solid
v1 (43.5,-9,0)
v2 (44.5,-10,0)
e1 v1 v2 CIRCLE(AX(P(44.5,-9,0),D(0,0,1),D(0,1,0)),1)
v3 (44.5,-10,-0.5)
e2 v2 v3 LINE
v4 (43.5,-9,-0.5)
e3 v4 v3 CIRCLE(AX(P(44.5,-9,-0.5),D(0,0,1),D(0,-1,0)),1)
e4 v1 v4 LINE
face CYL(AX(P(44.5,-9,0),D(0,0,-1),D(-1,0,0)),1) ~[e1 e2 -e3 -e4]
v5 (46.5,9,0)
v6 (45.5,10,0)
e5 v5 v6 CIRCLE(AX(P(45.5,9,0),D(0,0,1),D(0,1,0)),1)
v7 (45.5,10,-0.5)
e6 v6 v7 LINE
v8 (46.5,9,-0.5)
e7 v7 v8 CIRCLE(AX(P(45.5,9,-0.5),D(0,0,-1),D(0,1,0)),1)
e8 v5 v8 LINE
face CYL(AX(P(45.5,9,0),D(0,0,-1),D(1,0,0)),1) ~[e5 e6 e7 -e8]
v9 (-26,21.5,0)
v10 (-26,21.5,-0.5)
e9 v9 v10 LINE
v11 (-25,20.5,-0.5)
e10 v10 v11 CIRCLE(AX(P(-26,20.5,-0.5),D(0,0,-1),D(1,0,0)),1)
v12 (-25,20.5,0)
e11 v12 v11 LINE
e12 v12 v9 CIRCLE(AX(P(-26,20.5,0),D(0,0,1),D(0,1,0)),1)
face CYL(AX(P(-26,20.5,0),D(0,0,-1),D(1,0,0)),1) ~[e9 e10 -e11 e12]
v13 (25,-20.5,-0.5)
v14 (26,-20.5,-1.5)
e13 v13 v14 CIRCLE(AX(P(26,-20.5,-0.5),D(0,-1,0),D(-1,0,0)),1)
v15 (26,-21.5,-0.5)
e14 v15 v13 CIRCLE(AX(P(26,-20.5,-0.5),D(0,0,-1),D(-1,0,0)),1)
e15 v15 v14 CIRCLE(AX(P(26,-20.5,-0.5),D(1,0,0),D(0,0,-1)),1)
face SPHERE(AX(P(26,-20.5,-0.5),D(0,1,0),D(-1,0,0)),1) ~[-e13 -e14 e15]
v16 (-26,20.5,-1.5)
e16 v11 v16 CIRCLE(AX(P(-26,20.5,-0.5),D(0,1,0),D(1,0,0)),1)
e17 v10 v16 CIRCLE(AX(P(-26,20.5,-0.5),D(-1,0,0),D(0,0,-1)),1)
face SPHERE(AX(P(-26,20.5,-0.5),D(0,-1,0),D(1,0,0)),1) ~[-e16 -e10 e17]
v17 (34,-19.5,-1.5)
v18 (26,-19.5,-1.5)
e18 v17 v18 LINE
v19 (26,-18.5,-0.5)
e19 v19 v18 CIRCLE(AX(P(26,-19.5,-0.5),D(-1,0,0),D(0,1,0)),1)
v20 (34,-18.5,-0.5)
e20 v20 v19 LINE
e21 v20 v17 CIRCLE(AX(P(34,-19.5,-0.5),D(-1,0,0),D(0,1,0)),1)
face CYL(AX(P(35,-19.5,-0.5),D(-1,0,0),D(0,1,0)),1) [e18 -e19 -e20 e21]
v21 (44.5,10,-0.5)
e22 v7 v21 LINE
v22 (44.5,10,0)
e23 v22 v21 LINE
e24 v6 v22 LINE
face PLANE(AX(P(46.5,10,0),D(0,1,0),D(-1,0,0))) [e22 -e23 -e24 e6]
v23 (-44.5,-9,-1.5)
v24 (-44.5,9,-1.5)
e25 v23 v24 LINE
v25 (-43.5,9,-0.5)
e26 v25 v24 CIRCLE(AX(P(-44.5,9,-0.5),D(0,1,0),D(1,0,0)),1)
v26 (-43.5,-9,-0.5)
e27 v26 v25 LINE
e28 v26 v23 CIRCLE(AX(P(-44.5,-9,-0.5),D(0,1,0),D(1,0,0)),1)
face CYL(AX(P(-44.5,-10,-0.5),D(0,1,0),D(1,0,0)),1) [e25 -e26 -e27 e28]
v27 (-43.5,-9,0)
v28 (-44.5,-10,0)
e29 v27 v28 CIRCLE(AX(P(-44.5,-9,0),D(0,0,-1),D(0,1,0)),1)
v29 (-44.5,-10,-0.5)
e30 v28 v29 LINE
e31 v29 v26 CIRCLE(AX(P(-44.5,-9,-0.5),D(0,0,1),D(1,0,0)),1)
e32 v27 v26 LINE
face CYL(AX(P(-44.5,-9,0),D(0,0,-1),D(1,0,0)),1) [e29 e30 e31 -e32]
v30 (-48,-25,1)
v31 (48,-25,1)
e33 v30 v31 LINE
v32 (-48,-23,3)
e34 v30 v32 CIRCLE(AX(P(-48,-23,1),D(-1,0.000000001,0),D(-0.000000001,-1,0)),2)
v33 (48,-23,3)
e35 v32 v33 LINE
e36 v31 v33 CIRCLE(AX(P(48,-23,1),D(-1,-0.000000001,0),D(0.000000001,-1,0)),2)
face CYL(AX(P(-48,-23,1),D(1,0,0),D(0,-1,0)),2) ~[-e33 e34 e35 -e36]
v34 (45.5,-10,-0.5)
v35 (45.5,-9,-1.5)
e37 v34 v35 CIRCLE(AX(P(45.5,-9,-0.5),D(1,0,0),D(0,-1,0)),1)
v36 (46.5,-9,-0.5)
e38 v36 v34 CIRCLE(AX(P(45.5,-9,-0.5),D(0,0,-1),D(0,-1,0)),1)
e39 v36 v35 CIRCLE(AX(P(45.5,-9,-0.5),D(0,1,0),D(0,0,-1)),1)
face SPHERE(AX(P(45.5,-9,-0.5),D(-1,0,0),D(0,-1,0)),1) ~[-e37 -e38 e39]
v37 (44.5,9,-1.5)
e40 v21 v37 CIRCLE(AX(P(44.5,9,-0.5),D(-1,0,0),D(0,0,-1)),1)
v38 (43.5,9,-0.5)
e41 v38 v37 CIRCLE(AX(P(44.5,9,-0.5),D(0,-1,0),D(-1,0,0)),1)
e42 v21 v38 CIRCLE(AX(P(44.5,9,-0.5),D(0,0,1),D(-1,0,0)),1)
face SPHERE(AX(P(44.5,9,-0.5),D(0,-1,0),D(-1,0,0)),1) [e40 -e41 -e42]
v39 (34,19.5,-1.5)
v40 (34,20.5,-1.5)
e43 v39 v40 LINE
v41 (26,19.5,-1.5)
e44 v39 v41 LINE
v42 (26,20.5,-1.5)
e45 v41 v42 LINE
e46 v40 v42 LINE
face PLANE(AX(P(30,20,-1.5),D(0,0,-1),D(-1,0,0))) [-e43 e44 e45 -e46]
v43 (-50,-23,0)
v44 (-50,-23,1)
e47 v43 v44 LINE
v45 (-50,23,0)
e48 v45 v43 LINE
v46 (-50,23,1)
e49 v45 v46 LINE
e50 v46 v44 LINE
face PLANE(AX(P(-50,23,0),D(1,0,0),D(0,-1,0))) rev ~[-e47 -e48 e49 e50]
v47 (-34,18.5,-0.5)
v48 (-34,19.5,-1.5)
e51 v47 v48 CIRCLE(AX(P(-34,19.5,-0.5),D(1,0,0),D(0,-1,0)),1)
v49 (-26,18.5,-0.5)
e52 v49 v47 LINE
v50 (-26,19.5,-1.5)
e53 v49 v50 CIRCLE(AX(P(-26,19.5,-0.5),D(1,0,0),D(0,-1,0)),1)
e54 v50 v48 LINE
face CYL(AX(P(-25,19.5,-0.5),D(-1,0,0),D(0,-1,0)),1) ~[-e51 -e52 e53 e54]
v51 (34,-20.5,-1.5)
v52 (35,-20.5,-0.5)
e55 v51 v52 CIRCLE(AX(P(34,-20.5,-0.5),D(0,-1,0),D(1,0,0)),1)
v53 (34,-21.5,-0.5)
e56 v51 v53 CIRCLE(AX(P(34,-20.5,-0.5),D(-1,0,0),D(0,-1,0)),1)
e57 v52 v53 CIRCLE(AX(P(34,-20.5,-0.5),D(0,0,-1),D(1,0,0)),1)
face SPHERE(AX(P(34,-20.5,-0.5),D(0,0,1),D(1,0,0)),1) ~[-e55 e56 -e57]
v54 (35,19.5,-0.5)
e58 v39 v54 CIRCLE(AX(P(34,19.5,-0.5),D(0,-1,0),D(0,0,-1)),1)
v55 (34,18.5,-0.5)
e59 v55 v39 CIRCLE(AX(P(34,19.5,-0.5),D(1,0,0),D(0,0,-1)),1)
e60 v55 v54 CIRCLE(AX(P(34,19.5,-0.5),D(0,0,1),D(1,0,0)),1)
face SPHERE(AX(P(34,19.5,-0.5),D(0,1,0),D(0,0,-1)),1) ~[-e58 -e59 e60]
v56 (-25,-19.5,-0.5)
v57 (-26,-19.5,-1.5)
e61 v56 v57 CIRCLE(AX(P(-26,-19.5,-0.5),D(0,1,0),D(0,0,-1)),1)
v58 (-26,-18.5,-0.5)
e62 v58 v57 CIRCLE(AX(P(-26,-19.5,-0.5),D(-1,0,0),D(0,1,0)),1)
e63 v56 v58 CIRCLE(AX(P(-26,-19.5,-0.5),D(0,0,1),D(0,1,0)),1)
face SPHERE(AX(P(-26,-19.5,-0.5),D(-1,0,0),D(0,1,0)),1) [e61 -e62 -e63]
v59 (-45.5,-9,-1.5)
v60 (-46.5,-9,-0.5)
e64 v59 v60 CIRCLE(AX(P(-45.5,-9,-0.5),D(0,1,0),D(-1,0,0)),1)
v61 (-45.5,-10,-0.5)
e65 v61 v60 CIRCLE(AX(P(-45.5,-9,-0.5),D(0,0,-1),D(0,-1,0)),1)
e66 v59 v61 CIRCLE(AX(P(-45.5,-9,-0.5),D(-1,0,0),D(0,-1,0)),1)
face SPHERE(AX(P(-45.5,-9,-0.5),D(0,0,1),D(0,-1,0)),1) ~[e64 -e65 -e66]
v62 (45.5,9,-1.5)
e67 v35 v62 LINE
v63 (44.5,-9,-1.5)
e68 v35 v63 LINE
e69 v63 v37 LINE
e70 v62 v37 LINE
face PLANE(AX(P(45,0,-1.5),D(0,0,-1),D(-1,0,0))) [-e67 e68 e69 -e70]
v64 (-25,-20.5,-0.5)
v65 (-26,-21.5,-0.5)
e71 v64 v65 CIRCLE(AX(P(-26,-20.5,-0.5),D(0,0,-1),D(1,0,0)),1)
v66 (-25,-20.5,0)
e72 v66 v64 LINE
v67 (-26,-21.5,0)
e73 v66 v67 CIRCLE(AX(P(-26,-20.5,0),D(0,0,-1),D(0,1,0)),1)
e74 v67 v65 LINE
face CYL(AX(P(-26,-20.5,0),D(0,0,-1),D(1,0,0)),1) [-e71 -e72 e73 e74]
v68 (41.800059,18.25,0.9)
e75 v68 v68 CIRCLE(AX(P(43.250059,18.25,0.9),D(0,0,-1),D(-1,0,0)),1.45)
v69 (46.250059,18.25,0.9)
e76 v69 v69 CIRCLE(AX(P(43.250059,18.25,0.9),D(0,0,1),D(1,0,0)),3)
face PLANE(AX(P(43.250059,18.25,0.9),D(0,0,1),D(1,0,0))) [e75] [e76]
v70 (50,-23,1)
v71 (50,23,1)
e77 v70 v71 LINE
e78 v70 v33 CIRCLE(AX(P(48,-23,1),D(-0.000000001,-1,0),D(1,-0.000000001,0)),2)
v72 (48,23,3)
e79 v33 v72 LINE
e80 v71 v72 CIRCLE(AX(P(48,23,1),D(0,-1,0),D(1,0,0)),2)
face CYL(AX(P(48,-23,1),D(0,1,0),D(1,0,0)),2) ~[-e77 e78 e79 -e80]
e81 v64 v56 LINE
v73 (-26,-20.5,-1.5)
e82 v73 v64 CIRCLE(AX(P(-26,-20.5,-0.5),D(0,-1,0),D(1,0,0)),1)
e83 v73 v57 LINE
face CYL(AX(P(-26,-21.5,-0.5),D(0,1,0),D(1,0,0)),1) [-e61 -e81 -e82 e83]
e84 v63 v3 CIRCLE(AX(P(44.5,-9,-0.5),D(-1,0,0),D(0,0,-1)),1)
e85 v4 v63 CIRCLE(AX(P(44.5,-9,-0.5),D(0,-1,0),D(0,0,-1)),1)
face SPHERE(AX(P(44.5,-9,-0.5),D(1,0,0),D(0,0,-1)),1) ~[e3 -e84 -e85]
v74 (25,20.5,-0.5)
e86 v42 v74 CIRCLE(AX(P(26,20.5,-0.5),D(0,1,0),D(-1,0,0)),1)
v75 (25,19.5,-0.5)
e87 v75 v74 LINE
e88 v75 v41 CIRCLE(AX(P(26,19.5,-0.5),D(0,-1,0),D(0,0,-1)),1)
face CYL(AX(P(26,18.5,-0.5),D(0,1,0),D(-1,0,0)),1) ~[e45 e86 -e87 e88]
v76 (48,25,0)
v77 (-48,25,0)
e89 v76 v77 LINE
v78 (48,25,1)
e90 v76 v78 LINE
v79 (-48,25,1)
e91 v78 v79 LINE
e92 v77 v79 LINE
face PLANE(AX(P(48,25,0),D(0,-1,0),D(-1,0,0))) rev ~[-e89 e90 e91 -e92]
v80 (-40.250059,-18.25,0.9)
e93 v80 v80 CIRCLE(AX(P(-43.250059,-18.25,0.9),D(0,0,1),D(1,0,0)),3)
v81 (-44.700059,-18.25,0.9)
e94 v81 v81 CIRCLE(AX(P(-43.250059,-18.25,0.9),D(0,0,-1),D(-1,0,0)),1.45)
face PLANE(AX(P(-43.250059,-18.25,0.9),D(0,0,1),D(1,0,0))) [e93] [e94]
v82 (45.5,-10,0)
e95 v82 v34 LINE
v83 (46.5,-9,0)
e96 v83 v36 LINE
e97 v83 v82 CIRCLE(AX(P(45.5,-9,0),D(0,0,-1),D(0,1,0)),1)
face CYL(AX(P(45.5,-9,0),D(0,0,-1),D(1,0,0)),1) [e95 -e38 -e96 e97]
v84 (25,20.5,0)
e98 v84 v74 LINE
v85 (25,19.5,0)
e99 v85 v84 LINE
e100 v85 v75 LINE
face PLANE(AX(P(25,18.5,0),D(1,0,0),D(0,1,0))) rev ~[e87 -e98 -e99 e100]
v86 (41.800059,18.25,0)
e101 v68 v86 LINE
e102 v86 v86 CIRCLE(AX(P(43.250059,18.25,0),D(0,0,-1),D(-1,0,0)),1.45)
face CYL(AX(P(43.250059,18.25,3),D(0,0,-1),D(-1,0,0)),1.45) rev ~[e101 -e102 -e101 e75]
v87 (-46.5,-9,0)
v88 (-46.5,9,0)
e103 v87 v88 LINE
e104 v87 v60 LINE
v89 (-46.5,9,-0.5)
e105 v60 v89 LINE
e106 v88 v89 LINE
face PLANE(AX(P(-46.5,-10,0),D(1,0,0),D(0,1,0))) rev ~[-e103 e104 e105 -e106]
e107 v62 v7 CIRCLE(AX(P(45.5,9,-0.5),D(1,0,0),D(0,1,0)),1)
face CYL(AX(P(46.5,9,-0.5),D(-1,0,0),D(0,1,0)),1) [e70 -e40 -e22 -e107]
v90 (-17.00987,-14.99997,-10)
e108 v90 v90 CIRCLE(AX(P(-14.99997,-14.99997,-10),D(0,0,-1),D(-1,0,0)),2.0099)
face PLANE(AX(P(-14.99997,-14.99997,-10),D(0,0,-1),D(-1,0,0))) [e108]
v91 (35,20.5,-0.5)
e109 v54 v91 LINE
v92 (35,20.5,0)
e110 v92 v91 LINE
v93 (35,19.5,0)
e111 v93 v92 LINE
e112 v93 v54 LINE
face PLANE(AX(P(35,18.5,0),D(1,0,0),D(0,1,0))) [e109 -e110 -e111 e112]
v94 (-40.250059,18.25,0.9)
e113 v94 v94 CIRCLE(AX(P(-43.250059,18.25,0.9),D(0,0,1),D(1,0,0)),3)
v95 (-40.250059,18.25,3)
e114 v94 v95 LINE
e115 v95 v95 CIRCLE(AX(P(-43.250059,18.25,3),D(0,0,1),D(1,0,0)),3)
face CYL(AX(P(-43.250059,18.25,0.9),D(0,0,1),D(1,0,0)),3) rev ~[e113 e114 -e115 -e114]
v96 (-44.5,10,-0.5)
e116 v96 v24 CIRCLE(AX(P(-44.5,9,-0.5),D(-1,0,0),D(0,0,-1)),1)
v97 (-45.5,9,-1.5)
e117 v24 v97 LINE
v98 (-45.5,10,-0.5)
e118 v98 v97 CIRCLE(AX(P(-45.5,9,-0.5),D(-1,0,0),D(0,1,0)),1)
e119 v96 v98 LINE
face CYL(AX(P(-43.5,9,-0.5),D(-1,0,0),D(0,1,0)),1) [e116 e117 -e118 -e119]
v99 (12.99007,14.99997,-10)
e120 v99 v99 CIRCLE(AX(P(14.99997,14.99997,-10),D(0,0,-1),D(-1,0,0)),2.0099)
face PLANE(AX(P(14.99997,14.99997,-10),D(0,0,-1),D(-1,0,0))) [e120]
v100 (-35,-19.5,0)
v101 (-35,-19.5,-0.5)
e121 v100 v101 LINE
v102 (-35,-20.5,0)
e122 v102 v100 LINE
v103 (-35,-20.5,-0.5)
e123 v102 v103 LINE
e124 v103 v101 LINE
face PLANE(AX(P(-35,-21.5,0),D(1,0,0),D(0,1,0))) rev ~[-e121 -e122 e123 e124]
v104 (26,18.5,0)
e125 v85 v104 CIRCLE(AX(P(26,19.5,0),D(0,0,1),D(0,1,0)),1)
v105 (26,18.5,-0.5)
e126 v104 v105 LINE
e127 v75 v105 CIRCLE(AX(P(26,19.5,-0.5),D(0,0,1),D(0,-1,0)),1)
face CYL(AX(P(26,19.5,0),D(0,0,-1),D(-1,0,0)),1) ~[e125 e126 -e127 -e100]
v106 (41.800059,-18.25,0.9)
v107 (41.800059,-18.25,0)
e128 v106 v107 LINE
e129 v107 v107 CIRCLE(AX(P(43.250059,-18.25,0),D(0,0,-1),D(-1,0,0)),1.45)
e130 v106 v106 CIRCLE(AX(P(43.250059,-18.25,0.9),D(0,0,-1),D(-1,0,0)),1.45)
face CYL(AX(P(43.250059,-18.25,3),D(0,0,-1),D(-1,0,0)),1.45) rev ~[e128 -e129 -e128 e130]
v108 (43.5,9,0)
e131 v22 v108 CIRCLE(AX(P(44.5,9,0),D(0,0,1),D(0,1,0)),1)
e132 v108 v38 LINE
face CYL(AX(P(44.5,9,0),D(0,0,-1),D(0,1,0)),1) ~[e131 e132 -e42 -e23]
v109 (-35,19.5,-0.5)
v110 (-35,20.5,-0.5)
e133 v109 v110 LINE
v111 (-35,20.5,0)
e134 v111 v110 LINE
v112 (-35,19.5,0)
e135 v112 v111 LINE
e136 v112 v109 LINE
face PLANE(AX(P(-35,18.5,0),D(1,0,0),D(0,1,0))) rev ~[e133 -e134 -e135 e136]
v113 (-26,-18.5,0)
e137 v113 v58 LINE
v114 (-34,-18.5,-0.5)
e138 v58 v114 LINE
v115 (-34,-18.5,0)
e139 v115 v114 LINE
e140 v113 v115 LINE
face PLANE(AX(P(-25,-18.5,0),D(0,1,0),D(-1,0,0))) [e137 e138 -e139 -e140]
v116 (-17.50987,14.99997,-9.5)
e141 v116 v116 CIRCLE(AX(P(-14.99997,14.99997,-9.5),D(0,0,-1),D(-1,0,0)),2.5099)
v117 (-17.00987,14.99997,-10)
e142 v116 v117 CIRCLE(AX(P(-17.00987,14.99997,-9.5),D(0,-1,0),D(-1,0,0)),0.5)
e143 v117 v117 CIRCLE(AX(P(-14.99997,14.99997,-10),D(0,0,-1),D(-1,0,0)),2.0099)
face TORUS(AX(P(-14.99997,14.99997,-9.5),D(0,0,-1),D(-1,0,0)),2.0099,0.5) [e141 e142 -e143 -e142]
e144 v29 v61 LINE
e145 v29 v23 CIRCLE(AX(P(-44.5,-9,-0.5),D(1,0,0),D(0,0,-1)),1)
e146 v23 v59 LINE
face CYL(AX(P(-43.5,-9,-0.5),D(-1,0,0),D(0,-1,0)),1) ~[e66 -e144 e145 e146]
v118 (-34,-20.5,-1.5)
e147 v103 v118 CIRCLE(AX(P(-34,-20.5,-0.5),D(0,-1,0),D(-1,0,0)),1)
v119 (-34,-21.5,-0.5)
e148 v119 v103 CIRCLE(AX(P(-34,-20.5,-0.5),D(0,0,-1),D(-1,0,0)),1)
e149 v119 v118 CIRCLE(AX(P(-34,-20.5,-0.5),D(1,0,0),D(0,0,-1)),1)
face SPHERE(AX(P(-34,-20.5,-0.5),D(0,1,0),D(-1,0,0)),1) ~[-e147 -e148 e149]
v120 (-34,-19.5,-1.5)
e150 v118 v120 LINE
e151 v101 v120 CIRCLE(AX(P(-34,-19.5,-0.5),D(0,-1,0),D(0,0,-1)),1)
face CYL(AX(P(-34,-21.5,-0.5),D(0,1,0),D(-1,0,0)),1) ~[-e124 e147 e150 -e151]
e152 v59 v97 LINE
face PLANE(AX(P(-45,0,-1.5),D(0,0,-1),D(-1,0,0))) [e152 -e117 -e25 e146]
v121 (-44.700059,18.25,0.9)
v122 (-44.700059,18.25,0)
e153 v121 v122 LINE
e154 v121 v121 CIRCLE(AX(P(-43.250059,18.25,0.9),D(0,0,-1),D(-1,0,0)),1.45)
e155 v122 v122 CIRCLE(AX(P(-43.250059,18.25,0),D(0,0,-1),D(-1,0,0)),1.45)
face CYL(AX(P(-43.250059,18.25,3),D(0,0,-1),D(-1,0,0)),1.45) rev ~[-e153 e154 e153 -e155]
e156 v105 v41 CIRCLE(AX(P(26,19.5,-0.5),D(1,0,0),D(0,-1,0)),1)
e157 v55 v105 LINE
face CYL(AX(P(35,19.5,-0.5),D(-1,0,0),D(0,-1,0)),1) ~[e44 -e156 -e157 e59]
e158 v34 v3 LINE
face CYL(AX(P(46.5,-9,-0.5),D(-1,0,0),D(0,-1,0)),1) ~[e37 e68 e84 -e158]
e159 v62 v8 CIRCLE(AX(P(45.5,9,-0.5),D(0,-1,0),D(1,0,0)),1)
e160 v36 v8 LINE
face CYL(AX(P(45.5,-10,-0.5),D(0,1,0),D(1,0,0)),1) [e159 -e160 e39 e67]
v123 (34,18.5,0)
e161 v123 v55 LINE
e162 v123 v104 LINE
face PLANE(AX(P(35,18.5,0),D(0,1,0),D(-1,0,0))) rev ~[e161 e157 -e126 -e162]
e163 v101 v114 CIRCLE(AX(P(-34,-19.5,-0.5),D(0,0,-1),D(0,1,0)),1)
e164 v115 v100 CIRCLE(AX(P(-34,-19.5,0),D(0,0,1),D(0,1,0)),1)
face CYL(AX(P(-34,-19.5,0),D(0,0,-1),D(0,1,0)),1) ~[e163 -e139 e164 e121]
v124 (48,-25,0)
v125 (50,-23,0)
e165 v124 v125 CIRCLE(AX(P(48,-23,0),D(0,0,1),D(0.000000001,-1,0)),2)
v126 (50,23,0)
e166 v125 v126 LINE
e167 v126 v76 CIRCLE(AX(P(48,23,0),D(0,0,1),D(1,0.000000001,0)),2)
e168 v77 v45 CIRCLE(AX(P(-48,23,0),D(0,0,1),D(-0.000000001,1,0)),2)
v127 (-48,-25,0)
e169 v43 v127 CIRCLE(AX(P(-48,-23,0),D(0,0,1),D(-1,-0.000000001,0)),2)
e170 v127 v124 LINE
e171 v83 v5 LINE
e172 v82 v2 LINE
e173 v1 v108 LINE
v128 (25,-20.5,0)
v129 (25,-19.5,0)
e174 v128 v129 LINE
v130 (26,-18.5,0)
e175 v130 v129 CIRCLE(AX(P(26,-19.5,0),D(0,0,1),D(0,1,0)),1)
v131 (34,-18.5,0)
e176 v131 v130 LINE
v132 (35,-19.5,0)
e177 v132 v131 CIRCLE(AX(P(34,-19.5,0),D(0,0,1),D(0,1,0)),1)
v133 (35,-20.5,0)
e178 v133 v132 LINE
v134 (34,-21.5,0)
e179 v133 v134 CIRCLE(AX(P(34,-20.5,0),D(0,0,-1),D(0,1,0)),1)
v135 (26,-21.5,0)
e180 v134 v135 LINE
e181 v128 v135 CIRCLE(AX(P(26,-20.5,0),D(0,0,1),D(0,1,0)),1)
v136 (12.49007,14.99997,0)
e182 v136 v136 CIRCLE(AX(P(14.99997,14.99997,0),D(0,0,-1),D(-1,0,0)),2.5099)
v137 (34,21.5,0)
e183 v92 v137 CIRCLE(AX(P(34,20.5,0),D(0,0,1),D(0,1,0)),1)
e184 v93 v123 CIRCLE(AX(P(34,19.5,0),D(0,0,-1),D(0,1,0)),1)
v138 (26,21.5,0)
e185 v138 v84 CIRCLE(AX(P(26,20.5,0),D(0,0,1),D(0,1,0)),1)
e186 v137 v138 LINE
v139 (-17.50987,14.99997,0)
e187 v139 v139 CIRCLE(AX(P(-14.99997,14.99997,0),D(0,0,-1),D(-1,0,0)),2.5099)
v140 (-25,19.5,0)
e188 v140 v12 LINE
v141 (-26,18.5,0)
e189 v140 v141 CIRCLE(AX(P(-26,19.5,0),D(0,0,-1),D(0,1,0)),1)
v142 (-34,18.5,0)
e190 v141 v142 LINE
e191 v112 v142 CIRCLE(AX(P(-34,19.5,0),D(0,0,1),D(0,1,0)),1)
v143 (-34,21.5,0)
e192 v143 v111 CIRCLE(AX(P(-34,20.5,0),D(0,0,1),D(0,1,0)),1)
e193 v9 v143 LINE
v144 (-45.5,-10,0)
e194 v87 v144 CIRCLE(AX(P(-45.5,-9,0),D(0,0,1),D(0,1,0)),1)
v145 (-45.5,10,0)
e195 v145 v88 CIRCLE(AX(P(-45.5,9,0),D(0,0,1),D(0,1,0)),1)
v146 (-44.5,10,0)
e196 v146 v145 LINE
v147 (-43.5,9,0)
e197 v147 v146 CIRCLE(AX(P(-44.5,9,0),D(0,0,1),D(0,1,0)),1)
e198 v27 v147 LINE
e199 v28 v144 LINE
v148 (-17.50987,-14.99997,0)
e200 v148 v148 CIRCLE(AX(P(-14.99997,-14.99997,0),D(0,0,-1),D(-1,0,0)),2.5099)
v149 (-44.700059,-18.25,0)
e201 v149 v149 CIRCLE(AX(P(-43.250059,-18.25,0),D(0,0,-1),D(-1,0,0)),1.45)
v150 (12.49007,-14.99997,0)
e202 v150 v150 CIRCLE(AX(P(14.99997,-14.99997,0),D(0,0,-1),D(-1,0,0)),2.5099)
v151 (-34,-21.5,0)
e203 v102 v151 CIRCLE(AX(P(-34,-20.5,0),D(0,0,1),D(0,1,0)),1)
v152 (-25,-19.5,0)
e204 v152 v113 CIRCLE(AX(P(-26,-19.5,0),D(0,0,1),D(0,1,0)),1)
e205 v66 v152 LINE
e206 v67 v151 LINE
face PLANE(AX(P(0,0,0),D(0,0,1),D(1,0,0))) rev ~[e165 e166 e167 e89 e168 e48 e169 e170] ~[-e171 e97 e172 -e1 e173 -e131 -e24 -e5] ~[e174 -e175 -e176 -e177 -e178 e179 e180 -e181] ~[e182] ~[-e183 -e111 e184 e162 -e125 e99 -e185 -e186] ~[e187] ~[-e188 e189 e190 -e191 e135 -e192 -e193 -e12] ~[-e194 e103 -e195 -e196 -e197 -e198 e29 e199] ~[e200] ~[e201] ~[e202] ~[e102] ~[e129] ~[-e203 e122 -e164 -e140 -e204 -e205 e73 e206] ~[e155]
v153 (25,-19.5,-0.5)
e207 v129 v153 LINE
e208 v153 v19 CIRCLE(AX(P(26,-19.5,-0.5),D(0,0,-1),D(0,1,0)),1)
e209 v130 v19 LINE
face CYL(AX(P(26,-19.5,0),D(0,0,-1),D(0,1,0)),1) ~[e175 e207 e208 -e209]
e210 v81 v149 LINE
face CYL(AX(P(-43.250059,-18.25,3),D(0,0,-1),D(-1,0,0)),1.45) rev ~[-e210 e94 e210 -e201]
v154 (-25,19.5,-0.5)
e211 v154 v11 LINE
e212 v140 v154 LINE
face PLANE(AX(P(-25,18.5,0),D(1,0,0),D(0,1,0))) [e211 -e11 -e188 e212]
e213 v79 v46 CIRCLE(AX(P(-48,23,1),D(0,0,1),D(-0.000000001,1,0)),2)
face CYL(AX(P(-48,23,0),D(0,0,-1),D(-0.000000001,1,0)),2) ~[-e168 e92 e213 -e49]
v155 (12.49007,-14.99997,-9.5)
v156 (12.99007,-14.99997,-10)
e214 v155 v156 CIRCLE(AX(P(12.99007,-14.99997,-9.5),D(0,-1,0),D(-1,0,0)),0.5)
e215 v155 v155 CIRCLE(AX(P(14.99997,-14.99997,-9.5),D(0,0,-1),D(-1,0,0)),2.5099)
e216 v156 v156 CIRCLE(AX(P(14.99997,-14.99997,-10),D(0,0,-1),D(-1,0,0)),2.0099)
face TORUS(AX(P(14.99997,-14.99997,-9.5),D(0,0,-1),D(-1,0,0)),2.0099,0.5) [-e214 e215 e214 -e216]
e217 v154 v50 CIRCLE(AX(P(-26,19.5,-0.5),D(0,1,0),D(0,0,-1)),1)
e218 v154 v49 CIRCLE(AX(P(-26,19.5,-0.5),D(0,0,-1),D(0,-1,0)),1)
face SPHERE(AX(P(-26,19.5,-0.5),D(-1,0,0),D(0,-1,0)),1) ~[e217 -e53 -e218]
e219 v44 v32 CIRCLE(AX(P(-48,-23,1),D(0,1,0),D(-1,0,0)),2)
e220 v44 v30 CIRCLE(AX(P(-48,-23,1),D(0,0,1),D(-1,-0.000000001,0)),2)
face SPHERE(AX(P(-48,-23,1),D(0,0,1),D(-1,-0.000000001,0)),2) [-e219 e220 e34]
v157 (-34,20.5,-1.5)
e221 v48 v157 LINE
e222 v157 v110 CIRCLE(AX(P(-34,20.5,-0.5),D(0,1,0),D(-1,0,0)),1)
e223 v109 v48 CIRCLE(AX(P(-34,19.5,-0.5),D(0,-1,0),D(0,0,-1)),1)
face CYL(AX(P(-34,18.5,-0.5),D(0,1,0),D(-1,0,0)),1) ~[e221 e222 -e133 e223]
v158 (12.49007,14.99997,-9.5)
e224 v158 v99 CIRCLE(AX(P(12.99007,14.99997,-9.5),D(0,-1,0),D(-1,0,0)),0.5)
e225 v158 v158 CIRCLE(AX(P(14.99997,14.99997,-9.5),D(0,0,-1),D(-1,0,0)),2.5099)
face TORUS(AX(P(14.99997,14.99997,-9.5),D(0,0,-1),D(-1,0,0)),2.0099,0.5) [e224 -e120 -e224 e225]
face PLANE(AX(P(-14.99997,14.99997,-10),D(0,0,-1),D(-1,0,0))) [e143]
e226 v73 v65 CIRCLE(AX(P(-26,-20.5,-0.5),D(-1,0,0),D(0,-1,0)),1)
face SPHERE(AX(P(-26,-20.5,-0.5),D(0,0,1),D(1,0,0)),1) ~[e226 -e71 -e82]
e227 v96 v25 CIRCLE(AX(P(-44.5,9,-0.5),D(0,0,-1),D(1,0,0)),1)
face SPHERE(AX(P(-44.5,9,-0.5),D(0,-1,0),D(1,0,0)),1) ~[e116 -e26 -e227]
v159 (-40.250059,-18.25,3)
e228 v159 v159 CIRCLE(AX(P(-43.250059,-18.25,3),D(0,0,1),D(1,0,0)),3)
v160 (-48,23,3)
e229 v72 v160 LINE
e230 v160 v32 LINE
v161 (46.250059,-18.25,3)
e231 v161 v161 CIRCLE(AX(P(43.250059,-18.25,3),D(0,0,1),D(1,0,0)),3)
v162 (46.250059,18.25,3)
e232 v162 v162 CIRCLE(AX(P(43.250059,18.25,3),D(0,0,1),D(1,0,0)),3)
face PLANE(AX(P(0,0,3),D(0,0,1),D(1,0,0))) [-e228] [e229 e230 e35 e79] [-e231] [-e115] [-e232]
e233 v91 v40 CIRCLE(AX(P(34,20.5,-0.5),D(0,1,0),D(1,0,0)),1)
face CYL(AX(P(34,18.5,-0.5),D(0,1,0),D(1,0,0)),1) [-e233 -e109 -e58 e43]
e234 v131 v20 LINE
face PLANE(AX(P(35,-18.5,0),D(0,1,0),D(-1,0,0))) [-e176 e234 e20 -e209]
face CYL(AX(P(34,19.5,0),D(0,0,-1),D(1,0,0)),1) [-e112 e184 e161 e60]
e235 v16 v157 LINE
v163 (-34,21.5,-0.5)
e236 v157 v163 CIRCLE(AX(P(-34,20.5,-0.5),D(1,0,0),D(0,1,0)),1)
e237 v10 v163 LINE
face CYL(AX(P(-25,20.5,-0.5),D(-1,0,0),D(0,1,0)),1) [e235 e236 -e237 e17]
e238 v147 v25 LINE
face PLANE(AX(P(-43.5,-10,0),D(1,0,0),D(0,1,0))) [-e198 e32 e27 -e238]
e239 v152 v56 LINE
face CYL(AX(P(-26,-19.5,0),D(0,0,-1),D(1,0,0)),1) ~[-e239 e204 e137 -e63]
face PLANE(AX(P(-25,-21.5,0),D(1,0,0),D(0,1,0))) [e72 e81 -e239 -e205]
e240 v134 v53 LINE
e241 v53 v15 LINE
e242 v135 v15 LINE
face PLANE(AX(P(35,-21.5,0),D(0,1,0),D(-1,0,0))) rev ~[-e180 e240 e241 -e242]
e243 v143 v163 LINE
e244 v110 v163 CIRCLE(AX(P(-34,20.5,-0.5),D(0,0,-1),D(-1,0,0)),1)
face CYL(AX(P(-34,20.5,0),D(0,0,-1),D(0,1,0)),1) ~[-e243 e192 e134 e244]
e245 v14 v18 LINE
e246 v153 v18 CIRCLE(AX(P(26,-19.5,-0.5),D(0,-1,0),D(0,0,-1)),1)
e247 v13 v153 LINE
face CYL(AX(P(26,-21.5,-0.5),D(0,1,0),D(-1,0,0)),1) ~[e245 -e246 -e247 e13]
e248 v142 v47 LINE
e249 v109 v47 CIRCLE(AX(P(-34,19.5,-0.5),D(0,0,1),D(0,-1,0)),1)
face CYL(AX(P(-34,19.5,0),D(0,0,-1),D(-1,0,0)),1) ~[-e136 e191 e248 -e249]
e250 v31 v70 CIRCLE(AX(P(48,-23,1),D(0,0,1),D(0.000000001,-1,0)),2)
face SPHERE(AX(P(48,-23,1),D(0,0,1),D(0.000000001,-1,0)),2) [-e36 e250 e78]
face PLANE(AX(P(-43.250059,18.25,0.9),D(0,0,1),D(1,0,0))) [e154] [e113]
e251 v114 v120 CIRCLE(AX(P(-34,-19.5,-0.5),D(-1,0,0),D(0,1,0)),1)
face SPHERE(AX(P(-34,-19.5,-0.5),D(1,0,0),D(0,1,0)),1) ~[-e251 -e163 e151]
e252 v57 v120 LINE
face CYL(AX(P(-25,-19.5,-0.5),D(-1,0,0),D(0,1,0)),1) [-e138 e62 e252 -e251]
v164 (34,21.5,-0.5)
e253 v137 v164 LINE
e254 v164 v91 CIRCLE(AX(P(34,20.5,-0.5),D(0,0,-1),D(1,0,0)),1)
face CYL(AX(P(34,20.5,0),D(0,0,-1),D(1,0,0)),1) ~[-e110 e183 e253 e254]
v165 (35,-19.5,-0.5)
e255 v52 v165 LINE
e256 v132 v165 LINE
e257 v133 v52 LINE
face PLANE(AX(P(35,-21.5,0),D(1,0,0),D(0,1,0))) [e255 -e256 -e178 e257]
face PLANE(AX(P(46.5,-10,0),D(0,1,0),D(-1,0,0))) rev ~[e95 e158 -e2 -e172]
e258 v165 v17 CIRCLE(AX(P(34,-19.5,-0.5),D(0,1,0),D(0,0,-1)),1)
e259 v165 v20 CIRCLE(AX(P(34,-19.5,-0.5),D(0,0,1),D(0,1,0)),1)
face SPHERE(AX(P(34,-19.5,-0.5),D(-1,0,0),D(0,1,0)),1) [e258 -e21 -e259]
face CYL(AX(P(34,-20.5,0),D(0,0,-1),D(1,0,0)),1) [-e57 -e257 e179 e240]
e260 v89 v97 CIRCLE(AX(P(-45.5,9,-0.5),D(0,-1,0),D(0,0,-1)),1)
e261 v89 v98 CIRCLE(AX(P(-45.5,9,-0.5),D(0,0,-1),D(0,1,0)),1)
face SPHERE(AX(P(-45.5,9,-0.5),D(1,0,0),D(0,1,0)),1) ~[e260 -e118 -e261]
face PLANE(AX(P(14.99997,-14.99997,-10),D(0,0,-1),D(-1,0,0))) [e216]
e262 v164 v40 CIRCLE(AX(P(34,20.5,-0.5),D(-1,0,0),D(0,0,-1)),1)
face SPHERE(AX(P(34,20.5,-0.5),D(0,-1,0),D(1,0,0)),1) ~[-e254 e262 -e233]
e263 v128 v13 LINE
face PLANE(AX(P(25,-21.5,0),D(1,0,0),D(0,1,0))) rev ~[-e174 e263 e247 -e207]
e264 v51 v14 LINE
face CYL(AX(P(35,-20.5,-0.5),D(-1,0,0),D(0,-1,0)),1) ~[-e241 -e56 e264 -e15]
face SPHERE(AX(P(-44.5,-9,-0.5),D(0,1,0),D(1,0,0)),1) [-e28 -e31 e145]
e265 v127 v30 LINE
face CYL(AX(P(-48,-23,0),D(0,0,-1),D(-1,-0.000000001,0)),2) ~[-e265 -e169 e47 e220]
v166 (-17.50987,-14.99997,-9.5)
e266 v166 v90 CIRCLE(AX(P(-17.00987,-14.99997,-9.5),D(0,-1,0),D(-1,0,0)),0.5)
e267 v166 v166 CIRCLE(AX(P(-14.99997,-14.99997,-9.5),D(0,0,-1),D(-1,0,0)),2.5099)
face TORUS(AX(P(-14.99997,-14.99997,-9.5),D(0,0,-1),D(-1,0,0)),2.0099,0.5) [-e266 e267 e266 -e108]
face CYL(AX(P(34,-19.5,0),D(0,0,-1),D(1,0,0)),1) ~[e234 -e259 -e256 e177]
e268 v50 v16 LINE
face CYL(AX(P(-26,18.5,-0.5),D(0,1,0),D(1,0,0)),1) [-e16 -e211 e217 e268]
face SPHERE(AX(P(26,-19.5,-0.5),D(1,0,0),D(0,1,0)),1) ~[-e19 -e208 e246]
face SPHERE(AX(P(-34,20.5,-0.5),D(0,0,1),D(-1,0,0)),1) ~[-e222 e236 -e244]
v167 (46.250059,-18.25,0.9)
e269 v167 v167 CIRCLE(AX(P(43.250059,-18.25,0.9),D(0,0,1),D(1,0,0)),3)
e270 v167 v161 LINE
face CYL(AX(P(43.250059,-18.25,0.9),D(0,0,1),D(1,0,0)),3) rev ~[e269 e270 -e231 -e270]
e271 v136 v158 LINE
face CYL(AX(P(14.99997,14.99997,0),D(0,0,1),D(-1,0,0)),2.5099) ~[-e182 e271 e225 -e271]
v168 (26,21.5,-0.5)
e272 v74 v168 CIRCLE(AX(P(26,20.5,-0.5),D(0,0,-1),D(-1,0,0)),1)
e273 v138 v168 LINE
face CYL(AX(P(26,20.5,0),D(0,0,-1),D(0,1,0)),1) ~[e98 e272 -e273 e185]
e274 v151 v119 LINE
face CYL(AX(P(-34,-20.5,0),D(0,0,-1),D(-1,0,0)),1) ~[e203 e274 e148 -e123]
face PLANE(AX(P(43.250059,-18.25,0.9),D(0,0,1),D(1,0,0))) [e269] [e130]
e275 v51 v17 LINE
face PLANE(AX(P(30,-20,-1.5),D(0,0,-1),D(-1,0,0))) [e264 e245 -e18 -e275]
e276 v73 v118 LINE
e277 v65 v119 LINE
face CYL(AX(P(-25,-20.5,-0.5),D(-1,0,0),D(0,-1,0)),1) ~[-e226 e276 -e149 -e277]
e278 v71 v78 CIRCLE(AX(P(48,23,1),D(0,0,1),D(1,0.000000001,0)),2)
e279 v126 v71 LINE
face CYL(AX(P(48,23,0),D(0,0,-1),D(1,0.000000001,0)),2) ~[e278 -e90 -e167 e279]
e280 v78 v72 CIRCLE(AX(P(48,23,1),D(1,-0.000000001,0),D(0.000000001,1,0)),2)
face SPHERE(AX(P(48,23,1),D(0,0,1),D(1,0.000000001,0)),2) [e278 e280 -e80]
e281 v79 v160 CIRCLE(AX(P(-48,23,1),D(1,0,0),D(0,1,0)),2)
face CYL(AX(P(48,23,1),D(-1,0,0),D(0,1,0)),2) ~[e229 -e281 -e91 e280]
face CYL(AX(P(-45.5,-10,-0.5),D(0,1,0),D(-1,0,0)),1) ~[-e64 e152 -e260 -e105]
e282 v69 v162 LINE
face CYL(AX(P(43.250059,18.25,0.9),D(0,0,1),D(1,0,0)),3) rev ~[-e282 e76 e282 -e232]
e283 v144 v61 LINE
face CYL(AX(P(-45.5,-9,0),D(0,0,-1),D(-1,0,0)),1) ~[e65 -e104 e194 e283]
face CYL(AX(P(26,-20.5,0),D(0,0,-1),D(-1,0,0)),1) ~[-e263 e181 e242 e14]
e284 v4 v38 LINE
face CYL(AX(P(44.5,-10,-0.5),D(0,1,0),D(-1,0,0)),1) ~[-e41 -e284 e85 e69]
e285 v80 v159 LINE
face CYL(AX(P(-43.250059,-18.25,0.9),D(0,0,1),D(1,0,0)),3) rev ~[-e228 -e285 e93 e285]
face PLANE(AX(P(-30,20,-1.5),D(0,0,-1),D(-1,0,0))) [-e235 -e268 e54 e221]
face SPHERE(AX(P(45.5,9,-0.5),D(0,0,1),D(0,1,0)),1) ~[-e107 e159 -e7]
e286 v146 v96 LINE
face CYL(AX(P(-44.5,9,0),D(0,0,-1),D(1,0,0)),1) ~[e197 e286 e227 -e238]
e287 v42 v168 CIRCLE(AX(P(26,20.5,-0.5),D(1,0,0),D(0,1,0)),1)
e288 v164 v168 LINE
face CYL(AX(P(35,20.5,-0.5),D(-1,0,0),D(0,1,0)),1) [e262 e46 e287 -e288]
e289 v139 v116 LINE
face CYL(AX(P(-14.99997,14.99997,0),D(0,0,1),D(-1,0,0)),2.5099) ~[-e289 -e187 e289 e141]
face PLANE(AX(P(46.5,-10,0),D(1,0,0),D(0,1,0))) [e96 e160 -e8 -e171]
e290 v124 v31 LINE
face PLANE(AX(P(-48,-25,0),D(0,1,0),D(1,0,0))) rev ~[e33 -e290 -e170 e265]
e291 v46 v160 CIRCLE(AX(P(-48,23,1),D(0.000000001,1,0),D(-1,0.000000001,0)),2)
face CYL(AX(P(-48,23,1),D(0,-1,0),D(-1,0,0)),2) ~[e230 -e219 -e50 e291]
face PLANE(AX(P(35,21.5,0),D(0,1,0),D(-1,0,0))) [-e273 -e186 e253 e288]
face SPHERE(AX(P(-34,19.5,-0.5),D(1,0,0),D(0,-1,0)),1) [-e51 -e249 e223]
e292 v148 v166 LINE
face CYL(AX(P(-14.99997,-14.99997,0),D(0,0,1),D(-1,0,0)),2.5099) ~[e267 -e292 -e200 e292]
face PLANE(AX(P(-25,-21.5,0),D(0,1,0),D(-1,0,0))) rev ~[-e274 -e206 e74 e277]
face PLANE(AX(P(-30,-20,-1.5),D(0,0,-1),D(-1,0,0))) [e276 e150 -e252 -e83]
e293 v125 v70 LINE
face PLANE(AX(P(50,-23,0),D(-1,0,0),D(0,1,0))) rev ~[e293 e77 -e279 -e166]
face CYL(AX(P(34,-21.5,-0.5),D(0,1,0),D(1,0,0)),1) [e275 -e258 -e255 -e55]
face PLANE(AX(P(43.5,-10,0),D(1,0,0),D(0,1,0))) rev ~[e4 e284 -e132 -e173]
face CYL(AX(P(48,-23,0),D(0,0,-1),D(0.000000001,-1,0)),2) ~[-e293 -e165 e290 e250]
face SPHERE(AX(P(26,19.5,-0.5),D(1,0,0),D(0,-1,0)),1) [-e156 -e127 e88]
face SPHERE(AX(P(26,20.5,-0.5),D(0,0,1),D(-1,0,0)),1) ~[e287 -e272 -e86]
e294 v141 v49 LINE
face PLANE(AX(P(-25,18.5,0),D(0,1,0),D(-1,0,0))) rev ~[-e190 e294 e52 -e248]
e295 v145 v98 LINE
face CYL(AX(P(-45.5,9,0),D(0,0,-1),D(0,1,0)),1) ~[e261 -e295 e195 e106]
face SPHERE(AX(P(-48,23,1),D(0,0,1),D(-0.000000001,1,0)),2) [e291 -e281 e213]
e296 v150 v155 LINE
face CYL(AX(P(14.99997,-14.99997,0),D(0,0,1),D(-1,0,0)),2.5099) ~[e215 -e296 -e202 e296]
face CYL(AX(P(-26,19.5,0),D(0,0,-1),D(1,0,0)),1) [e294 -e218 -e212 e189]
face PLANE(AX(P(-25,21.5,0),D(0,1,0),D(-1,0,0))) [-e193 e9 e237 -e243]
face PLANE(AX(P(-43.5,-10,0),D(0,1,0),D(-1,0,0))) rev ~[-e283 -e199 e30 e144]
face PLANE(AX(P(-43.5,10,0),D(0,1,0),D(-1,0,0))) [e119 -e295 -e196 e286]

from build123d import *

# Parameters (mm, degrees)
BOSS_EXTRUDE1_DEPTH                                = 3
FILLET1_R                                          = 2
SKETCH2_W                                          = 10
SKETCH2_H                                          = 3
SKETCH2_W_2                                        = 3
SKETCH2_H_2                                        = 20
BOSS_EXTRUDE2_DEPTH                                = 1.5
FILLET2_R                                          = 1
SKETCH3_R                                          = 2.5099
BOSS_EXTRUDE3_DEPTH                                = 10
FILLET3_R                                          = 0.5
CBORE_FOR_M2_5_PAN_HEAD_MACHINE_SCREW1_D           = 2.9
CBORE_FOR_M2_5_PAN_HEAD_MACHINE_SCREW1_DEPTH       = 6.35
CBORE_FOR_M2_5_PAN_HEAD_MACHINE_SCREW1_CBORE_D     = 6
CBORE_FOR_M2_5_PAN_HEAD_MACHINE_SCREW1_CBORE_DEPTH = 2.1
CBORE_FOR_M2_5_PAN_HEAD_MACHINE_SCREW1_TIP         = 0.871247898


with BuildPart() as part:
    # Sketch1 → Boss-Extrude1 (new body)
    with BuildSketch(Plane.XY):
        with BuildLine():
            Line((-48, -25), (48, -25))
            ThreePointArc((48, -25), (49.414213562, -24.414213562), (50, -23))
            Line((50, -23), (50, 23))
            ThreePointArc((50, 23), (49.414213562, 24.414213562), (48, 25))
            Line((48, 25), (-48, 25))
            ThreePointArc((-48, 25), (-49.414213562, 24.414213562), (-50, 23))
            Line((-50, 23), (-50, -23))
            ThreePointArc((-50, -23), (-49.414213562, -24.414213562), (-48, -25))
        make_face()
    extrude(amount=BOSS_EXTRUDE1_DEPTH)

    # Fillet1
    fillet1_edges = [part.edges().sort_by_distance(p)[0] for p in [
        (49.414213562, -24.414213562, 3),
        (50, 0, 3),
        (49.414213562, 24.414213562, 3),
        (0, 25, 3),
        (-49.414213562, 24.414213562, 3),
        (-50, 0, 3),
        (-49.414213562, -24.414213562, 3),
        (0, -25, 3),
    ]]
    fillet(fillet1_edges, radius=FILLET1_R)

    # Sketch2 → Boss-Extrude2 (add)
    with BuildSketch(Plane(origin=(0, 0, 0), x_dir=(-1, 0, 0), z_dir=(0, 0, -1))):
        with Locations((-30, 20)):
            Rectangle(SKETCH2_W, SKETCH2_H)
        with Locations((-45, 0)):
            Rectangle(SKETCH2_W_2, SKETCH2_H_2)
        with Locations((-30, -20)):
            Rectangle(SKETCH2_W, SKETCH2_H)
        with Locations((30, -20)):
            Rectangle(SKETCH2_W, SKETCH2_H)
        with Locations((45, 0)):
            Rectangle(SKETCH2_W_2, SKETCH2_H_2)
        with Locations((30, 20)):
            Rectangle(SKETCH2_W, SKETCH2_H)
    extrude(amount=BOSS_EXTRUDE2_DEPTH)

    # Fillet2
    fillet2_edges = [part.edges().sort_by_distance(p)[0] for p in [
        (-30, 18.5, -1.5),
        (-25, 18.5, -0.75),
        (-35, 18.5, -0.75),
        (-35, 21.5, -0.75),
        (-25, 20, -1.5),
        (-25, 21.5, -0.75),
        (-35, 20, -1.5),
        (-30, 21.5, -1.5),
        (35, 20, -1.5),
        (35, 21.5, -0.75),
        (30, 18.5, -1.5),
        (35, 18.5, -0.75),
        (25, 18.5, -0.75),
        (25, 21.5, -0.75),
        (25, 20, -1.5),
        (30, 21.5, -1.5),
        (45, -10, -1.5),
        (46.5, -10, -0.75),
        (43.5, 0, -1.5),
        (43.5, -10, -0.75),
        (43.5, 10, -0.75),
        (46.5, 10, -0.75),
        (45, 10, -1.5),
        (46.5, 0, -1.5),
        (30, -18.5, -1.5),
        (25, -18.5, -0.75),
        (35, -18.5, -0.75),
        (35, -21.5, -0.75),
        (25, -20, -1.5),
        (25, -21.5, -0.75),
        (35, -20, -1.5),
        (30, -21.5, -1.5),
        (-30, -18.5, -1.5),
        (-35, -18.5, -0.75),
        (-25, -18.5, -0.75),
        (-25, -21.5, -0.75),
        (-35, -20, -1.5),
        (-35, -21.5, -0.75),
        (-25, -20, -1.5),
        (-30, -21.5, -1.5),
        (-43.5, 0, -1.5),
        (-43.5, 10, -0.75),
        (-43.5, -10, -0.75),
        (-46.5, -10, -0.75),
        (-45, 10, -1.5),
        (-46.5, 10, -0.75),
        (-45, -10, -1.5),
        (-46.5, 0, -1.5),
    ]]
    fillet(fillet2_edges, radius=FILLET2_R)

    # Sketch3 → Boss-Extrude3 (add)
    with BuildSketch(Plane(origin=(0, 0, 0), x_dir=(-1, 0, 0), z_dir=(0, 0, -1))):
        with Locations((-14.99997, -14.99997)):
            Circle(SKETCH3_R)
        with Locations((-14.99997, 14.99997)):
            Circle(SKETCH3_R)
        with Locations((14.99997, -14.99997)):
            Circle(SKETCH3_R)
        with Locations((14.99997, 14.99997)):
            Circle(SKETCH3_R)
    extrude(amount=BOSS_EXTRUDE3_DEPTH)

    # Fillet3
    fillet3_edges = [part.edges().sort_by_distance(p)[0] for p in [
        (17.50987, -14.99997, -10),
        (17.50987, 14.99997, -10),
        (-12.49007, -14.99997, -10),
        (-12.49007, 14.99997, -10),
    ]]
    fillet(fillet3_edges, radius=FILLET3_R)

    # CBORE for M2.5 Pan Head Machine Screw1
    with Locations(Plane(origin=(43.250058959, -18.25, 3), x_dir=(1, 0, 0), z_dir=(0, 0, 1))):
        with Locations((0, 0), (0, 36.5), (-86.500117918, 0), (-86.500117918, 36.5)):
            CounterBoreHole(CBORE_FOR_M2_5_PAN_HEAD_MACHINE_SCREW1_D / 2, CBORE_FOR_M2_5_PAN_HEAD_MACHINE_SCREW1_CBORE_D / 2, CBORE_FOR_M2_5_PAN_HEAD_MACHINE_SCREW1_CBORE_DEPTH, depth=CBORE_FOR_M2_5_PAN_HEAD_MACHINE_SCREW1_DEPTH)
            with Locations((0, 0, -(CBORE_FOR_M2_5_PAN_HEAD_MACHINE_SCREW1_DEPTH + CBORE_FOR_M2_5_PAN_HEAD_MACHINE_SCREW1_TIP / 2))):  # 118° drill point
                Cone(0, CBORE_FOR_M2_5_PAN_HEAD_MACHINE_SCREW1_D / 2, CBORE_FOR_M2_5_PAN_HEAD_MACHINE_SCREW1_TIP, mode=Mode.SUBTRACT)


solid = part.part
